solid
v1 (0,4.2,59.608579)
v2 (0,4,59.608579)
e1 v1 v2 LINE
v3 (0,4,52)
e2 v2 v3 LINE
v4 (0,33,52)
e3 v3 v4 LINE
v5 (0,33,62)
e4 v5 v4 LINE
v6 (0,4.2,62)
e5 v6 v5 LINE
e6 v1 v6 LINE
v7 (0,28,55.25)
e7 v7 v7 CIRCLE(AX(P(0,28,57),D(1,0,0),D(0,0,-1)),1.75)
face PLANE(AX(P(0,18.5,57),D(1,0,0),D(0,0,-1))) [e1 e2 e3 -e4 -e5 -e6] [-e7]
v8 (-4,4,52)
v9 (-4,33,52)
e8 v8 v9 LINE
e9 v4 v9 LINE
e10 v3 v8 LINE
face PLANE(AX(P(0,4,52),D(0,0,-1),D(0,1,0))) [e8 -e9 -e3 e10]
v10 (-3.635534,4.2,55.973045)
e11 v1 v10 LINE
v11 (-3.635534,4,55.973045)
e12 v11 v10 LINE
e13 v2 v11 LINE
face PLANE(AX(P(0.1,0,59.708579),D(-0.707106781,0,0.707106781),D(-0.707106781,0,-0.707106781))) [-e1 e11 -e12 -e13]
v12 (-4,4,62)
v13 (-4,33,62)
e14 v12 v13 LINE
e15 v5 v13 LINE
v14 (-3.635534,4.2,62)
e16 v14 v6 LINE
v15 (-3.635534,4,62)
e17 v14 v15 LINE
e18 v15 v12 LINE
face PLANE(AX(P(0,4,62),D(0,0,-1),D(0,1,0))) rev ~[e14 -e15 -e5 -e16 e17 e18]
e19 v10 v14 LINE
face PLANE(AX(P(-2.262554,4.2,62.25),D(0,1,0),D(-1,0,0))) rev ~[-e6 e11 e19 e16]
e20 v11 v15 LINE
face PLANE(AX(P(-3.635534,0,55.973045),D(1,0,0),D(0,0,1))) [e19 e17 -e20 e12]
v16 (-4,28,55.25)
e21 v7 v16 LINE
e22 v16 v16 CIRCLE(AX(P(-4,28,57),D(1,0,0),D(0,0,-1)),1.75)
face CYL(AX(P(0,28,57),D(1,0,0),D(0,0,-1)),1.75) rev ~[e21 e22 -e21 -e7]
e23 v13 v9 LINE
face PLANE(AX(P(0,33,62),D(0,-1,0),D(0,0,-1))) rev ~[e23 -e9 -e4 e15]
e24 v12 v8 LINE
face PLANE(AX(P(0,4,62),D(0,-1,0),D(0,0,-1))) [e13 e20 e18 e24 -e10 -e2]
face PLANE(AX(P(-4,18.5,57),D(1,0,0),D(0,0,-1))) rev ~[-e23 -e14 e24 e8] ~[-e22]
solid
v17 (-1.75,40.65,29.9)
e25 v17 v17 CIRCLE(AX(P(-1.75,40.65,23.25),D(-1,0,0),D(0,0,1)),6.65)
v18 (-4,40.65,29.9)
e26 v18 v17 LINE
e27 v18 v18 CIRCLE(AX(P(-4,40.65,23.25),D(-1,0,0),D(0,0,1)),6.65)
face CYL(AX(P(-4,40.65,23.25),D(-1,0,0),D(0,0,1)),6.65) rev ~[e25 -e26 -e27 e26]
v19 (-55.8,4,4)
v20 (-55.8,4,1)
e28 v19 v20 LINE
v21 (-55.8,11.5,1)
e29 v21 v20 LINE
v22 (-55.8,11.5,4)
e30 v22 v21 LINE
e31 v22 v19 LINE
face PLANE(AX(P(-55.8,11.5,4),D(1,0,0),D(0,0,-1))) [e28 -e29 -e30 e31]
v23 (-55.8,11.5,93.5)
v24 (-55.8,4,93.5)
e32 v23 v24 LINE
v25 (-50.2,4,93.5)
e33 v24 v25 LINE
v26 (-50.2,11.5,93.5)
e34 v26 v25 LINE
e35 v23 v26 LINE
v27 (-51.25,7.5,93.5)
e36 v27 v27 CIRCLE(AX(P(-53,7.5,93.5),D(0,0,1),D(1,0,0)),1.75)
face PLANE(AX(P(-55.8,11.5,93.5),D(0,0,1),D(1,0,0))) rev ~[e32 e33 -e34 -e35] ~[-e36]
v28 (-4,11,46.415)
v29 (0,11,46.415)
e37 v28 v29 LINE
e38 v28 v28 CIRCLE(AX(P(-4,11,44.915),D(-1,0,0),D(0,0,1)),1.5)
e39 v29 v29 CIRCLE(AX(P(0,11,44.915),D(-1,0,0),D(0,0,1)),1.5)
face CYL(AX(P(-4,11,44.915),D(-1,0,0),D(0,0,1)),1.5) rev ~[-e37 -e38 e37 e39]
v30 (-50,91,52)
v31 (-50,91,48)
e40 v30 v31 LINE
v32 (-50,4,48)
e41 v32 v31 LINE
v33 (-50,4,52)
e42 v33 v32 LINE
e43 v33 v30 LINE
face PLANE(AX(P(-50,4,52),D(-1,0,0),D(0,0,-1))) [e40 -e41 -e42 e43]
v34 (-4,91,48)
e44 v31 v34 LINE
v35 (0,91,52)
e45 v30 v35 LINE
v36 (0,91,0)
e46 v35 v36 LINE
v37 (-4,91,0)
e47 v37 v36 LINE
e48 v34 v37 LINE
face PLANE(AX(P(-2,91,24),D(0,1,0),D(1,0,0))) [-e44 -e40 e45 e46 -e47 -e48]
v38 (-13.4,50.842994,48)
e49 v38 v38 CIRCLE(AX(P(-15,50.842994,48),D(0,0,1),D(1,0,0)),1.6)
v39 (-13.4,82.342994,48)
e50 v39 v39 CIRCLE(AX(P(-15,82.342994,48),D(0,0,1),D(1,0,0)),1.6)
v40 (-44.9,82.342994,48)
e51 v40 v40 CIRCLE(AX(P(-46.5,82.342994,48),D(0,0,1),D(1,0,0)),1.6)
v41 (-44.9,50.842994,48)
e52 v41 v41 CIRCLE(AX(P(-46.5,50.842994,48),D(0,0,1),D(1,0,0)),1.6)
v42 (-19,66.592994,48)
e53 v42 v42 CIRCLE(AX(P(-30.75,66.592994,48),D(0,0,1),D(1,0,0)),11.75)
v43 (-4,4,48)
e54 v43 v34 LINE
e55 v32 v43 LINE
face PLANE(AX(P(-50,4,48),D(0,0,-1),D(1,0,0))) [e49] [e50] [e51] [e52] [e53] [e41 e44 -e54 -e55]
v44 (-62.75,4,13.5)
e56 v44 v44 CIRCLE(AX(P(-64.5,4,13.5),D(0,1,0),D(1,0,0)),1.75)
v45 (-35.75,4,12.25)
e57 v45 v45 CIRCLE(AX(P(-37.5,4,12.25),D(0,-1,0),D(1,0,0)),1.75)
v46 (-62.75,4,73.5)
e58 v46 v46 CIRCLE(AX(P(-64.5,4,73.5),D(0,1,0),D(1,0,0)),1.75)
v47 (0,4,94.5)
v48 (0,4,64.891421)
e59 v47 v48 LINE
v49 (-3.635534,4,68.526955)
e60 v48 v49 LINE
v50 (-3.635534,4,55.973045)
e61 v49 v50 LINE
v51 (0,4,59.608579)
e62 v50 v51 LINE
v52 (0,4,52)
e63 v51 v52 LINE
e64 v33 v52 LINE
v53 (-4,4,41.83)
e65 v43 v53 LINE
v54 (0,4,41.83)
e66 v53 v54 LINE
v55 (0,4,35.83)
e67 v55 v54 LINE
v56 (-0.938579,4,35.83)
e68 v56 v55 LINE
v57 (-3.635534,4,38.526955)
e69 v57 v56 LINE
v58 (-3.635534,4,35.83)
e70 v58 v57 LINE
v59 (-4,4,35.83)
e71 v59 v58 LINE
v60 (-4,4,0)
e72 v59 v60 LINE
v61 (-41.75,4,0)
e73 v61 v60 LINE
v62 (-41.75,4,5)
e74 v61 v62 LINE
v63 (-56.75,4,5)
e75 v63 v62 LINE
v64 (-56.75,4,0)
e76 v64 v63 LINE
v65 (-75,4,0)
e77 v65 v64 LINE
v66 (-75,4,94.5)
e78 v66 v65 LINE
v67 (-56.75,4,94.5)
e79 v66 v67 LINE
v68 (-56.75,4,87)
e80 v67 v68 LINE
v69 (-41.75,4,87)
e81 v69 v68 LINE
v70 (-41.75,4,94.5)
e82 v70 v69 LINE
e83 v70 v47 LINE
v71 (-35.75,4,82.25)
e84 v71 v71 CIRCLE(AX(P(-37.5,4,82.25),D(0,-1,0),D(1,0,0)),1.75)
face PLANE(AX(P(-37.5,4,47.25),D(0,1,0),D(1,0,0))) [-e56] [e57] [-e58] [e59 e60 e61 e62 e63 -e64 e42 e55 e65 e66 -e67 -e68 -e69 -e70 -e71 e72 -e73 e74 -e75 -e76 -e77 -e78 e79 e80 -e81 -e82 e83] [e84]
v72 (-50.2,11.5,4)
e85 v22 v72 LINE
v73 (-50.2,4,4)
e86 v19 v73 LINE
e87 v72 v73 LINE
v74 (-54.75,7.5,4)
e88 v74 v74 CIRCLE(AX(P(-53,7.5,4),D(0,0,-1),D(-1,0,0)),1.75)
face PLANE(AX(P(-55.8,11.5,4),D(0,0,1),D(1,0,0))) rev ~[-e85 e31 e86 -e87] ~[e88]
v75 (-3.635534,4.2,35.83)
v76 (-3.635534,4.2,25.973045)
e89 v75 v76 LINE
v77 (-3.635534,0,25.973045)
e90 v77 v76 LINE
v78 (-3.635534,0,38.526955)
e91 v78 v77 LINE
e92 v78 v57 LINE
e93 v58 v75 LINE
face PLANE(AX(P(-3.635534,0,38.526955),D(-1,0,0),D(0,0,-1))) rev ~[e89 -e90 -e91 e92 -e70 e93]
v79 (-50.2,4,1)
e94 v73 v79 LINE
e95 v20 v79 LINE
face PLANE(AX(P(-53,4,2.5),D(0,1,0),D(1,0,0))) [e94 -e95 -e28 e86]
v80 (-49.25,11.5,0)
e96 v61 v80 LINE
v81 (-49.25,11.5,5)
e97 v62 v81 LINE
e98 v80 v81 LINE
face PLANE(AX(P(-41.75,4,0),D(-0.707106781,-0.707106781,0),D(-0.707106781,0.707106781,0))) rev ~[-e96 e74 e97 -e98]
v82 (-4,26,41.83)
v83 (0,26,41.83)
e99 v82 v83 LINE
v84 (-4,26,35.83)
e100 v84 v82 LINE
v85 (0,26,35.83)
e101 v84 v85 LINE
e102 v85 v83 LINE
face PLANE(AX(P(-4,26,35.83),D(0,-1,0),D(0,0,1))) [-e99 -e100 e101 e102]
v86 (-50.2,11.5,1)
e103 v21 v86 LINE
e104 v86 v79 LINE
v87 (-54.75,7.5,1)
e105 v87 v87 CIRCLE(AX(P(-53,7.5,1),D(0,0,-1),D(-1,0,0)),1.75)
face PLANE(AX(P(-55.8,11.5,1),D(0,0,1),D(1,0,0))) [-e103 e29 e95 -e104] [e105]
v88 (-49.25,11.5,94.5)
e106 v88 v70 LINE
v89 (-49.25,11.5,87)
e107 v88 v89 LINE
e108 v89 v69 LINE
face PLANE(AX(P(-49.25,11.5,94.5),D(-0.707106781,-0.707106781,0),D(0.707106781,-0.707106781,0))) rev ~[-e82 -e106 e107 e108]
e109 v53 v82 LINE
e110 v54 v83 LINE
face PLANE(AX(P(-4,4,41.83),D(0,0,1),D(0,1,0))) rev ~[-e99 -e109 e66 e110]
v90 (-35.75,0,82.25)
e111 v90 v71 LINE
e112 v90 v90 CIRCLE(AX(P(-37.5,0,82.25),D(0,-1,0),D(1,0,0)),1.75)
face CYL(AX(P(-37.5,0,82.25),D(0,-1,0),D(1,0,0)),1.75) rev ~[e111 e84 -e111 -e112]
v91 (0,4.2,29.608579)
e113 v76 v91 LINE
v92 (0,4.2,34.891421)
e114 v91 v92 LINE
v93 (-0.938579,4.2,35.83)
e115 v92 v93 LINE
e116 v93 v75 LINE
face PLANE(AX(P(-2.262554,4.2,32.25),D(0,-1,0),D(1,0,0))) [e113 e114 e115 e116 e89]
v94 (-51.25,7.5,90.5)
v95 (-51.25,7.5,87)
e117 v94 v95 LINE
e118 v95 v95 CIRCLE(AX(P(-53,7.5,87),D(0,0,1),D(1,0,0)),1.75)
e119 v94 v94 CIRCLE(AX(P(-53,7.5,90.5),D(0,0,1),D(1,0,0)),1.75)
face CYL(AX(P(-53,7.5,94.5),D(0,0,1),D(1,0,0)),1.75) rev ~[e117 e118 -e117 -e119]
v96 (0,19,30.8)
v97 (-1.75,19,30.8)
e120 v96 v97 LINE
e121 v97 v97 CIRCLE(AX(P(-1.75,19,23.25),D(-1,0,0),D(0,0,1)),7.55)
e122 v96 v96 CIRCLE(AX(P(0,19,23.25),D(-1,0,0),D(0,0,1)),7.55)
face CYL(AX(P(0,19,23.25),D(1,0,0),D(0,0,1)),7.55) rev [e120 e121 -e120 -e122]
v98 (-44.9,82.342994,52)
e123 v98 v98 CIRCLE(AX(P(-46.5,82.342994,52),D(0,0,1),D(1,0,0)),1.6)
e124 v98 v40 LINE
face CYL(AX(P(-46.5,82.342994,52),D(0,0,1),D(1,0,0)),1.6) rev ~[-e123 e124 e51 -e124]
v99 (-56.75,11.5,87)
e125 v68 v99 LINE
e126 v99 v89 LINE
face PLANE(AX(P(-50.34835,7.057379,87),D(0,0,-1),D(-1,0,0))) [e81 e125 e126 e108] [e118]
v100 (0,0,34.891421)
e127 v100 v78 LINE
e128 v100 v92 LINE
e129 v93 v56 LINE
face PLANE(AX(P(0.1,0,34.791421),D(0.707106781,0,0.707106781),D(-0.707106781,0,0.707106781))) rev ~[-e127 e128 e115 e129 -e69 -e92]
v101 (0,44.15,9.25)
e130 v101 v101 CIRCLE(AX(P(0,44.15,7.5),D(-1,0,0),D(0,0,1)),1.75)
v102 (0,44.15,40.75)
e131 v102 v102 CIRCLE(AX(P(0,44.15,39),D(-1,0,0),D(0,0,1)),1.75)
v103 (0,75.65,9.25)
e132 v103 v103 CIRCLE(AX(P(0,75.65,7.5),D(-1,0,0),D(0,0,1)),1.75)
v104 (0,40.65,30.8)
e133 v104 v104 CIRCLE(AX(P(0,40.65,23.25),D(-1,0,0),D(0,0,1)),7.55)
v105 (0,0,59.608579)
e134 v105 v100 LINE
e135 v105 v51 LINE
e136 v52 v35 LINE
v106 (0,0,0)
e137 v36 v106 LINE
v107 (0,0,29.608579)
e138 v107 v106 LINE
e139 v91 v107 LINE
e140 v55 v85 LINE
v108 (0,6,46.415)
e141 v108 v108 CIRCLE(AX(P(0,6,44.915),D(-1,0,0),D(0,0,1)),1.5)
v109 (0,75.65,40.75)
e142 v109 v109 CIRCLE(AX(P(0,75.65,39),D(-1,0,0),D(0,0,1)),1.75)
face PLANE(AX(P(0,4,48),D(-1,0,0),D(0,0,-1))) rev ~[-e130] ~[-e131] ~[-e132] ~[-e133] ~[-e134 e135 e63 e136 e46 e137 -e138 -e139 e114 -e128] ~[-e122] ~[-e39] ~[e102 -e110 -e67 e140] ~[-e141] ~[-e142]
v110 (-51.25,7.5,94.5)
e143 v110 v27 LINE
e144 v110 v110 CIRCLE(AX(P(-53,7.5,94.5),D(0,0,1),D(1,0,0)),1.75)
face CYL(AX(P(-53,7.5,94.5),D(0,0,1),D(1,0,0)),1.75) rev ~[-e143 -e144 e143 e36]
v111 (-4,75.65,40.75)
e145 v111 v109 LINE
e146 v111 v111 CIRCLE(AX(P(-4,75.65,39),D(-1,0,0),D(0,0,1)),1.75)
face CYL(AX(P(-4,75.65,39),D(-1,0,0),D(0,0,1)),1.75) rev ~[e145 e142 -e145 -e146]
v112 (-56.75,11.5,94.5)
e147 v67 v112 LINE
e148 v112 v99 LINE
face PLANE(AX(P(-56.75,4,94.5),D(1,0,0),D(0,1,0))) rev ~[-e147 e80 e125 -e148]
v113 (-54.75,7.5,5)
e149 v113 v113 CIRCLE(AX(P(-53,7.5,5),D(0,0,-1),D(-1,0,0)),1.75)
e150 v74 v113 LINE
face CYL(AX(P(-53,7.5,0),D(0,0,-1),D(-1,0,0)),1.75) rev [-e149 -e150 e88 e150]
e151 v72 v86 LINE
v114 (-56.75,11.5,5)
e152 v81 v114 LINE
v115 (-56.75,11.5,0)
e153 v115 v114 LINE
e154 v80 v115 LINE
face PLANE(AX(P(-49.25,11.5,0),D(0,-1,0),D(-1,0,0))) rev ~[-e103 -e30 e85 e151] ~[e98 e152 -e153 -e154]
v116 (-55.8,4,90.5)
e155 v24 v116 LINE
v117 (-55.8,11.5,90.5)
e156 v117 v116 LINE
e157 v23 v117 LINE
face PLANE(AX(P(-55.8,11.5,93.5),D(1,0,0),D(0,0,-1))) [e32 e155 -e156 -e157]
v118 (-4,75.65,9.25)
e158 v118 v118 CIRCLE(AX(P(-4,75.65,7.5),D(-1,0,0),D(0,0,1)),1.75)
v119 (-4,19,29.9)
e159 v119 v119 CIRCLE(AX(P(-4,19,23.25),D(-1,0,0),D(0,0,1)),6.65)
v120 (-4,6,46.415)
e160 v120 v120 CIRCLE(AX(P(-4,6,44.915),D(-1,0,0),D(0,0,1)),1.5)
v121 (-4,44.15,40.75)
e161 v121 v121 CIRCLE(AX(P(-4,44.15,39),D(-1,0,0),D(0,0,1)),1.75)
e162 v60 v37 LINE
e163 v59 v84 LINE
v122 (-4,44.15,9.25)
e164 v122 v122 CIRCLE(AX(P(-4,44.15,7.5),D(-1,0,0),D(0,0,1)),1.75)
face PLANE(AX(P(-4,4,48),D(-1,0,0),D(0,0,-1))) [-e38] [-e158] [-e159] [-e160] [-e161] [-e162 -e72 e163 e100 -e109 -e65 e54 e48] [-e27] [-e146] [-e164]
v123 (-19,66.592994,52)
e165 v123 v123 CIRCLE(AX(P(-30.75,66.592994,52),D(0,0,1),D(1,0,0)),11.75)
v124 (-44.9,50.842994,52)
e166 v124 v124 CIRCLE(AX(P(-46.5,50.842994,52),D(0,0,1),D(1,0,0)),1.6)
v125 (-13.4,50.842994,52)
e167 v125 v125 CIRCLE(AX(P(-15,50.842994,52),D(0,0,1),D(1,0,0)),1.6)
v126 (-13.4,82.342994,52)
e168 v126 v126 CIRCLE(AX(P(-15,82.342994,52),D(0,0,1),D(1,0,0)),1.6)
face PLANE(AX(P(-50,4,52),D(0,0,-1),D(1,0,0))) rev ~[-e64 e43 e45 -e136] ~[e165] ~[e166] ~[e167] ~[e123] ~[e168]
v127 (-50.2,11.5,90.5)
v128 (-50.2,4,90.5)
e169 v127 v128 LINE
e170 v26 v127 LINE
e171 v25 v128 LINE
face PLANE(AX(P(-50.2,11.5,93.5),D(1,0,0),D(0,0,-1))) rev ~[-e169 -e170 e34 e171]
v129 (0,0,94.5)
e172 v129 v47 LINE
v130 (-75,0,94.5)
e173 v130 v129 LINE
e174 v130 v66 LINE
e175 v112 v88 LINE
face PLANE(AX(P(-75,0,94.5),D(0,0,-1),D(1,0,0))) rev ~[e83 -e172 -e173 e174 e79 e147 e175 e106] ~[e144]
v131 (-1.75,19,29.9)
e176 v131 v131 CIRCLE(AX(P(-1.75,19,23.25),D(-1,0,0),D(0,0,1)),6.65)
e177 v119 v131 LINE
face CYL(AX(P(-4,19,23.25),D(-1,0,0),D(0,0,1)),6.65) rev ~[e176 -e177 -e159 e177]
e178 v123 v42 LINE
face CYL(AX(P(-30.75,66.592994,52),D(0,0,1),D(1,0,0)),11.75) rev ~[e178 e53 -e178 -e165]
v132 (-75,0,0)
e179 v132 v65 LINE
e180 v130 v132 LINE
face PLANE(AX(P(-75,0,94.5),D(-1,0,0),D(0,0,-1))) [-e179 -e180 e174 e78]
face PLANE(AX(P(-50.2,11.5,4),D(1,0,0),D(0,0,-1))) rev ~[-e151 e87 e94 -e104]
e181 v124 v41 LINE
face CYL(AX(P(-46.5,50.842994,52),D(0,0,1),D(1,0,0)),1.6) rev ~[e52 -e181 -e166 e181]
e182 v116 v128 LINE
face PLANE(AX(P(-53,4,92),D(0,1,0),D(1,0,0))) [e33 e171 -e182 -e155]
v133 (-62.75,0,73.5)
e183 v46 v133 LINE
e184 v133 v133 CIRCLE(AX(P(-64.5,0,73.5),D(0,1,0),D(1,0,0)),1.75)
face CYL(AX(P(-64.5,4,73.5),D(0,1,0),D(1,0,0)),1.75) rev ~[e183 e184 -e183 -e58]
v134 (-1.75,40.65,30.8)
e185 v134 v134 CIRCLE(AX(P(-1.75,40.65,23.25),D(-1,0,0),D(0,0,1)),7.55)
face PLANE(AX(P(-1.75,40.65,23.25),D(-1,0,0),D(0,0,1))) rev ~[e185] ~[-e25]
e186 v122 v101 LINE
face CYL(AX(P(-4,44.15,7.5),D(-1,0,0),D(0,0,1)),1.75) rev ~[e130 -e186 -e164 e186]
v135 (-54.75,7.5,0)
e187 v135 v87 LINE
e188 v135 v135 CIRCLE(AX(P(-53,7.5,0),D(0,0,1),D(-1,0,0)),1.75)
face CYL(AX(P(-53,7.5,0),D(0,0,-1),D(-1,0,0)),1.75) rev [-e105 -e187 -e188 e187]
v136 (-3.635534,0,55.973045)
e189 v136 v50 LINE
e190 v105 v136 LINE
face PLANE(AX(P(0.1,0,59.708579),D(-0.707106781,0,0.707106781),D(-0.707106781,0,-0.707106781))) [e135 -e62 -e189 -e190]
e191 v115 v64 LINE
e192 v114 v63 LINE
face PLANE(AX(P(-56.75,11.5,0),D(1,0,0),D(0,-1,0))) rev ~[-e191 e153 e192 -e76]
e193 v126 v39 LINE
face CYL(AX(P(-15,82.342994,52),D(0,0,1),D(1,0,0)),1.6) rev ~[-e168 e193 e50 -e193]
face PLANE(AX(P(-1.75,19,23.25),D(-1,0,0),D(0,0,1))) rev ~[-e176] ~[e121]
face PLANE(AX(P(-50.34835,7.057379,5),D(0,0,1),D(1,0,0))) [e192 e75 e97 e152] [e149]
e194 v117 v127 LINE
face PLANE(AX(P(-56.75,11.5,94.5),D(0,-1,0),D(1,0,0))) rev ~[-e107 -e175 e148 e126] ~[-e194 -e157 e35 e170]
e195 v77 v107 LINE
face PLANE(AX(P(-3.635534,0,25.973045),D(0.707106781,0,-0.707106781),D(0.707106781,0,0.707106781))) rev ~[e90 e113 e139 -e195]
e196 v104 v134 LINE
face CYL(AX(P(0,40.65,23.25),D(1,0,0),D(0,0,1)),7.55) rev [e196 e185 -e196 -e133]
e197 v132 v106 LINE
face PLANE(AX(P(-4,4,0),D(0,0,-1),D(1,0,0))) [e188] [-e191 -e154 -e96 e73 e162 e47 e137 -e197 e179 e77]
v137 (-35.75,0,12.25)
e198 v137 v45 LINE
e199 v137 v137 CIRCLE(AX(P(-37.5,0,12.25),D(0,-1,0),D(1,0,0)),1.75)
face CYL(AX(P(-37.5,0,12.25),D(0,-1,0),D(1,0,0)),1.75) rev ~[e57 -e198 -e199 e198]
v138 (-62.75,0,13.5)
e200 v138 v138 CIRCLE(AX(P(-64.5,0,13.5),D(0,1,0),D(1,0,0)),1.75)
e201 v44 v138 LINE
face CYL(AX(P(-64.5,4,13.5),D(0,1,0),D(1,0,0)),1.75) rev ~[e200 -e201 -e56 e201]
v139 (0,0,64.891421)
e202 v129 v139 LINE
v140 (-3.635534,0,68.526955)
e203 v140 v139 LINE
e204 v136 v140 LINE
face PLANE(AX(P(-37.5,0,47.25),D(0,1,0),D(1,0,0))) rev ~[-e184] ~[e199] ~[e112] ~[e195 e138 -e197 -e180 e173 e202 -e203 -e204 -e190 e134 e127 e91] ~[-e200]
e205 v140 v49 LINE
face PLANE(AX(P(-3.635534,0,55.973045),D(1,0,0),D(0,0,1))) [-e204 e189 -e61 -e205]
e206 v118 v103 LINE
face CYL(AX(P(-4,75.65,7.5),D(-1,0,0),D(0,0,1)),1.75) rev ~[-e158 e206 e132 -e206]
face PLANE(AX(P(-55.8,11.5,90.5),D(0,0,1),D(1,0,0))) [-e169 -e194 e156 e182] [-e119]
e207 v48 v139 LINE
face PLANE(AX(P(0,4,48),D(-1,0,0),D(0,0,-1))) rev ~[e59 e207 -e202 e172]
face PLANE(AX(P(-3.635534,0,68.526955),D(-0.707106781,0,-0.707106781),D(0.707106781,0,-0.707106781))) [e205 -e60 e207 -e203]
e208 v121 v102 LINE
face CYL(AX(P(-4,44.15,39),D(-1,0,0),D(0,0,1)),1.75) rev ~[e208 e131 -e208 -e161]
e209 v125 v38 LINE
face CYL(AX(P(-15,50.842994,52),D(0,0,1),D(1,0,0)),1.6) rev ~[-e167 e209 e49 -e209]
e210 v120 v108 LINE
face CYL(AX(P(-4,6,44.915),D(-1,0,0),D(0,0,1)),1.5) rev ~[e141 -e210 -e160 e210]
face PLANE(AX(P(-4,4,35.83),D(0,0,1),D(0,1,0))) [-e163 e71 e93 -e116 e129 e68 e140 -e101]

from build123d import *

# Parameters (mm, degrees)
SKETCH17_W                       = 75
SKETCH17_H                       = 94.5
BASE_DEPTH                       = 4
SKETCH18_W                       = 50
SKETCH18_H                       = 4
XWALL_DEPTH                      = 87
SKETCH19_W                       = 4
SKETCH19_H                       = 48
YWALL_DEPTH                      = 87
SKETCH4_R                        = 1.6
SKETCH4_R_2                      = 11.75
XMOTORHOLES_DEPTH                = 5
SKETCH14_R                       = 6.65
BEARINGINNERHOLE_DEPTH           = 5
SKETCH15_R                       = 7.55
BEARINGOUTERHOLE_DEPTH           = 1.75
SKETCH20_R                       = 1.75
SIDE_CONNECTOR_SCREW_HOLES_DEPTH = 4
SKETCH22_W                       = 10
SKETCH22_H                       = 29
SKETCH22_R                       = 1.75
SIDE_MOUNT_BODY_DEPTH            = 4
DOVETAILS_DEPTH                  = 4.2
BACK_LEFT_CASE_SCREW_BODY_DEPTH  = 5
SKETCH33_R                       = 1.75
BACK_LEFT_CASE_SCREW_HOLE_DEPTH  = 9
SKETCH34_W                       = 5.6
SKETCH34_H                       = 3
BACK_LEFT_CASE_NUT_HOLE_DEPTH    = 7.5
FRONT_EFT_CASE_SCREW_BODY_DEPTH  = 7.5
SKETCH36_R                       = 1.75
FRONT_LEFT_CASE_SCREW_HOLE_DEPTH = 7.5
SKETCH37_W                       = 5.6
SKETCH37_H                       = 3
FRONT_LEFT_CASE_NUT_HOLE_DEPTH   = 7.5
SKETCH38_R                       = 1.75
FOOT_HOLES_DEPTH                 = 10
SKETCH39_R                       = 1.5
SKETCH39_W                       = 6
SKETCH39_H                       = 22
MOTOR_CABLE_PASSTHROUGH_DEPTH    = 4
SKETCH40_R                       = 1.75
ELECTRONICS_MOUNT_HOLES_DEPTH    = 4


with BuildPart() as part:
    # Sketch17 → Base (new body)
    with BuildSketch(Plane(origin=(0, 0, 0), x_dir=(1, 0, 0), z_dir=(0, 1, 0))):
        with Locations((-37.5, -47.25)):
            Rectangle(SKETCH17_W, SKETCH17_H)
    extrude(amount=BASE_DEPTH)

    # Sketch18 → XWall (add)
    with BuildSketch(Plane(origin=(0, 4, 0), x_dir=(1, 0, 0), z_dir=(0, 1, 0))):
        with Locations((-25, -50)):
            Rectangle(SKETCH18_W, SKETCH18_H)
    extrude(amount=XWALL_DEPTH)

    # Sketch19 → YWall (add)
    with BuildSketch(Plane(origin=(0, 4, 0), x_dir=(1, 0, 0), z_dir=(0, 1, 0))):
        with Locations((-2, -24)):
            Rectangle(SKETCH19_W, SKETCH19_H)
    extrude(amount=YWALL_DEPTH)

    # Sketch4 → XMotorHoles (cut)
    with BuildSketch(Plane.XY.offset(52)):
        with Locations((-15, 82.342994265)):
            Circle(SKETCH4_R)
        with Locations((-46.5, 82.342994265)):
            Circle(SKETCH4_R)
        with Locations((-46.5, 50.842994265)):
            Circle(SKETCH4_R)
        with Locations((-15, 50.842994265)):
            Circle(SKETCH4_R)
        with Locations((-30.75, 66.592994265)):
            Circle(SKETCH4_R_2)
    extrude(amount=-XMOTORHOLES_DEPTH, mode=Mode.SUBTRACT)

    # Sketch14 → BearingInnerHole (cut)
    with BuildSketch(Plane.ZY.offset(4)):
        with Locations((23.25, 19)):
            Circle(SKETCH14_R)
        with Locations((23.25, 40.65)):
            Circle(SKETCH14_R)
    extrude(amount=-BEARINGINNERHOLE_DEPTH, mode=Mode.SUBTRACT)

    # Sketch15 → BearingOuterHole (cut)
    with BuildSketch(Plane.ZY):
        with Locations((23.25, 19)):
            Circle(SKETCH15_R)
        with Locations((23.25, 40.65)):
            Circle(SKETCH15_R)
    extrude(amount=BEARINGOUTERHOLE_DEPTH, mode=Mode.SUBTRACT)

    # Sketch20 → Side_Connector_Screw_Holes (cut)
    with BuildSketch(Plane.ZY.offset(4)):
        with Locations((7.5, 75.65)):
            Circle(SKETCH20_R)
        with Locations((39, 75.65)):
            Circle(SKETCH20_R)
        with Locations((7.5, 44.15)):
            Circle(SKETCH20_R)
        with Locations((39, 44.15)):
            Circle(SKETCH20_R)
    extrude(amount=-SIDE_CONNECTOR_SCREW_HOLES_DEPTH, mode=Mode.SUBTRACT)


with BuildPart() as body_2:
    # Sketch22 → Side_Mount_Body (new body)
    with BuildSketch(Plane(origin=(0, 0, 0), x_dir=(0, 0, -1), z_dir=(1, 0, 0))):
        with Locations((-57, 18.5)):
            Rectangle(SKETCH22_W, SKETCH22_H)
        with Locations((-57, 28)):
            Circle(SKETCH22_R, mode=Mode.SUBTRACT)
    extrude(amount=-SIDE_MOUNT_BODY_DEPTH)


with BuildPart() as dovetails_tool:
    # Sketch23 → Dovetails (new body)
    with BuildSketch(Plane.XZ):
        Polygon((0.1, 59.708578644), (-3.635533906, 55.973044738), (-3.635533906, 68.526955262), (0.1, 64.791421356), align=None)
        Polygon((0.1, 29.708578644), (0.1, 34.791421356), (-3.635533906, 38.526955262), (-3.635533906, 25.973044738), align=None)
    extrude(amount=-DOVETAILS_DEPTH)


with BuildPart() as part_1:
    add(part.part)

    # Dovetails: cut by dovetails_tool
    add(dovetails_tool.part, mode=Mode.SUBTRACT)

    # Sketch32 → Back_Left_Case_Screw_Body (add)
    with BuildSketch(Plane(origin=(-41.75, 0, 0), x_dir=(1, 0, 0), z_dir=(0, 0, 1))):
        Polygon((-7.5, 11.5), (-15, 11.5), (-15, 4), (0, 4), align=None)
    extrude(amount=BACK_LEFT_CASE_SCREW_BODY_DEPTH)

    # Sketch33 → Back_Left_Case_Screw_Hole (cut)
    with BuildSketch(Plane(origin=(0, 23, 0), x_dir=(-1, 0, 0), z_dir=(0, 0, 1))):
        with Locations((53, 15.5)):
            Circle(SKETCH33_R)
    extrude(amount=BACK_LEFT_CASE_SCREW_HOLE_DEPTH, mode=Mode.SUBTRACT)

    # Sketch34 → Back_Left_Case_Nut_Hole (cut)
    with BuildSketch(Plane(origin=(0, 11.5, 0), x_dir=(1, 0, 0), z_dir=(0, 1, 0))):
        with Locations((-53, -2.5)):
            Rectangle(SKETCH34_W, SKETCH34_H)
    extrude(amount=-BACK_LEFT_CASE_NUT_HOLE_DEPTH, mode=Mode.SUBTRACT)

    # Sketch35 → Front_;eft_Case_Screw_Body (add)
    with BuildSketch(Plane.XY.offset(94.5)):
        Polygon((-56.75, 4), (-56.75, 11.5), (-49.25, 11.5), (-41.75, 4), align=None)
    extrude(amount=-FRONT_EFT_CASE_SCREW_BODY_DEPTH)

    # Sketch36 → Front_Left_Case_Screw_Hole (cut)
    with BuildSketch(Plane.XY.offset(94.5)):
        with Locations((-53, 7.5)):
            Circle(SKETCH36_R)
    extrude(amount=-FRONT_LEFT_CASE_SCREW_HOLE_DEPTH, mode=Mode.SUBTRACT)

    # Sketch37 → Front_Left_Case_Nut_Hole (cut)
    with BuildSketch(Plane(origin=(0, 11.5, 0), x_dir=(1, 0, 0), z_dir=(0, 1, 0))):
        with Locations((-53, -92)):
            Rectangle(SKETCH37_W, SKETCH37_H)
    extrude(amount=-FRONT_LEFT_CASE_NUT_HOLE_DEPTH, mode=Mode.SUBTRACT)

    # Sketch38 → Foot_Holes (cut)
    with BuildSketch(Plane.XZ):
        with Locations((-37.5, 82.25)):
            Circle(SKETCH38_R)
        with Locations((-37.5, 12.25)):
            Circle(SKETCH38_R)
    extrude(amount=-FOOT_HOLES_DEPTH, mode=Mode.SUBTRACT)

    # Sketch39 → Motor_Cable_Passthrough (cut)
    with BuildSketch(Plane.ZY.offset(4)):
        with Locations((44.915, 11)):
            Circle(SKETCH39_R)
        with Locations((44.915, 6)):
            Circle(SKETCH39_R)
        with Locations((38.83, 15)):
            Rectangle(SKETCH39_W, SKETCH39_H)
    extrude(amount=-MOTOR_CABLE_PASSTHROUGH_DEPTH, mode=Mode.SUBTRACT)

    # Sketch40 → Electronics_Mount_Holes (cut)
    with BuildSketch(Plane(origin=(0, 4, 0), x_dir=(1, 0, 0), z_dir=(0, 1, 0))):
        with Locations((-64.5, -13.5)):
            Circle(SKETCH40_R)
        with Locations((-64.5, -73.5)):
            Circle(SKETCH40_R)
    extrude(amount=-ELECTRONICS_MOUNT_HOLES_DEPTH, mode=Mode.SUBTRACT)


with BuildPart() as body_2_1:
    add(body_2.part)

    # Dovetails: cut by dovetails_tool
    add(dovetails_tool.part, mode=Mode.SUBTRACT)


solid = Compound([part_1.part, body_2_1.part])
